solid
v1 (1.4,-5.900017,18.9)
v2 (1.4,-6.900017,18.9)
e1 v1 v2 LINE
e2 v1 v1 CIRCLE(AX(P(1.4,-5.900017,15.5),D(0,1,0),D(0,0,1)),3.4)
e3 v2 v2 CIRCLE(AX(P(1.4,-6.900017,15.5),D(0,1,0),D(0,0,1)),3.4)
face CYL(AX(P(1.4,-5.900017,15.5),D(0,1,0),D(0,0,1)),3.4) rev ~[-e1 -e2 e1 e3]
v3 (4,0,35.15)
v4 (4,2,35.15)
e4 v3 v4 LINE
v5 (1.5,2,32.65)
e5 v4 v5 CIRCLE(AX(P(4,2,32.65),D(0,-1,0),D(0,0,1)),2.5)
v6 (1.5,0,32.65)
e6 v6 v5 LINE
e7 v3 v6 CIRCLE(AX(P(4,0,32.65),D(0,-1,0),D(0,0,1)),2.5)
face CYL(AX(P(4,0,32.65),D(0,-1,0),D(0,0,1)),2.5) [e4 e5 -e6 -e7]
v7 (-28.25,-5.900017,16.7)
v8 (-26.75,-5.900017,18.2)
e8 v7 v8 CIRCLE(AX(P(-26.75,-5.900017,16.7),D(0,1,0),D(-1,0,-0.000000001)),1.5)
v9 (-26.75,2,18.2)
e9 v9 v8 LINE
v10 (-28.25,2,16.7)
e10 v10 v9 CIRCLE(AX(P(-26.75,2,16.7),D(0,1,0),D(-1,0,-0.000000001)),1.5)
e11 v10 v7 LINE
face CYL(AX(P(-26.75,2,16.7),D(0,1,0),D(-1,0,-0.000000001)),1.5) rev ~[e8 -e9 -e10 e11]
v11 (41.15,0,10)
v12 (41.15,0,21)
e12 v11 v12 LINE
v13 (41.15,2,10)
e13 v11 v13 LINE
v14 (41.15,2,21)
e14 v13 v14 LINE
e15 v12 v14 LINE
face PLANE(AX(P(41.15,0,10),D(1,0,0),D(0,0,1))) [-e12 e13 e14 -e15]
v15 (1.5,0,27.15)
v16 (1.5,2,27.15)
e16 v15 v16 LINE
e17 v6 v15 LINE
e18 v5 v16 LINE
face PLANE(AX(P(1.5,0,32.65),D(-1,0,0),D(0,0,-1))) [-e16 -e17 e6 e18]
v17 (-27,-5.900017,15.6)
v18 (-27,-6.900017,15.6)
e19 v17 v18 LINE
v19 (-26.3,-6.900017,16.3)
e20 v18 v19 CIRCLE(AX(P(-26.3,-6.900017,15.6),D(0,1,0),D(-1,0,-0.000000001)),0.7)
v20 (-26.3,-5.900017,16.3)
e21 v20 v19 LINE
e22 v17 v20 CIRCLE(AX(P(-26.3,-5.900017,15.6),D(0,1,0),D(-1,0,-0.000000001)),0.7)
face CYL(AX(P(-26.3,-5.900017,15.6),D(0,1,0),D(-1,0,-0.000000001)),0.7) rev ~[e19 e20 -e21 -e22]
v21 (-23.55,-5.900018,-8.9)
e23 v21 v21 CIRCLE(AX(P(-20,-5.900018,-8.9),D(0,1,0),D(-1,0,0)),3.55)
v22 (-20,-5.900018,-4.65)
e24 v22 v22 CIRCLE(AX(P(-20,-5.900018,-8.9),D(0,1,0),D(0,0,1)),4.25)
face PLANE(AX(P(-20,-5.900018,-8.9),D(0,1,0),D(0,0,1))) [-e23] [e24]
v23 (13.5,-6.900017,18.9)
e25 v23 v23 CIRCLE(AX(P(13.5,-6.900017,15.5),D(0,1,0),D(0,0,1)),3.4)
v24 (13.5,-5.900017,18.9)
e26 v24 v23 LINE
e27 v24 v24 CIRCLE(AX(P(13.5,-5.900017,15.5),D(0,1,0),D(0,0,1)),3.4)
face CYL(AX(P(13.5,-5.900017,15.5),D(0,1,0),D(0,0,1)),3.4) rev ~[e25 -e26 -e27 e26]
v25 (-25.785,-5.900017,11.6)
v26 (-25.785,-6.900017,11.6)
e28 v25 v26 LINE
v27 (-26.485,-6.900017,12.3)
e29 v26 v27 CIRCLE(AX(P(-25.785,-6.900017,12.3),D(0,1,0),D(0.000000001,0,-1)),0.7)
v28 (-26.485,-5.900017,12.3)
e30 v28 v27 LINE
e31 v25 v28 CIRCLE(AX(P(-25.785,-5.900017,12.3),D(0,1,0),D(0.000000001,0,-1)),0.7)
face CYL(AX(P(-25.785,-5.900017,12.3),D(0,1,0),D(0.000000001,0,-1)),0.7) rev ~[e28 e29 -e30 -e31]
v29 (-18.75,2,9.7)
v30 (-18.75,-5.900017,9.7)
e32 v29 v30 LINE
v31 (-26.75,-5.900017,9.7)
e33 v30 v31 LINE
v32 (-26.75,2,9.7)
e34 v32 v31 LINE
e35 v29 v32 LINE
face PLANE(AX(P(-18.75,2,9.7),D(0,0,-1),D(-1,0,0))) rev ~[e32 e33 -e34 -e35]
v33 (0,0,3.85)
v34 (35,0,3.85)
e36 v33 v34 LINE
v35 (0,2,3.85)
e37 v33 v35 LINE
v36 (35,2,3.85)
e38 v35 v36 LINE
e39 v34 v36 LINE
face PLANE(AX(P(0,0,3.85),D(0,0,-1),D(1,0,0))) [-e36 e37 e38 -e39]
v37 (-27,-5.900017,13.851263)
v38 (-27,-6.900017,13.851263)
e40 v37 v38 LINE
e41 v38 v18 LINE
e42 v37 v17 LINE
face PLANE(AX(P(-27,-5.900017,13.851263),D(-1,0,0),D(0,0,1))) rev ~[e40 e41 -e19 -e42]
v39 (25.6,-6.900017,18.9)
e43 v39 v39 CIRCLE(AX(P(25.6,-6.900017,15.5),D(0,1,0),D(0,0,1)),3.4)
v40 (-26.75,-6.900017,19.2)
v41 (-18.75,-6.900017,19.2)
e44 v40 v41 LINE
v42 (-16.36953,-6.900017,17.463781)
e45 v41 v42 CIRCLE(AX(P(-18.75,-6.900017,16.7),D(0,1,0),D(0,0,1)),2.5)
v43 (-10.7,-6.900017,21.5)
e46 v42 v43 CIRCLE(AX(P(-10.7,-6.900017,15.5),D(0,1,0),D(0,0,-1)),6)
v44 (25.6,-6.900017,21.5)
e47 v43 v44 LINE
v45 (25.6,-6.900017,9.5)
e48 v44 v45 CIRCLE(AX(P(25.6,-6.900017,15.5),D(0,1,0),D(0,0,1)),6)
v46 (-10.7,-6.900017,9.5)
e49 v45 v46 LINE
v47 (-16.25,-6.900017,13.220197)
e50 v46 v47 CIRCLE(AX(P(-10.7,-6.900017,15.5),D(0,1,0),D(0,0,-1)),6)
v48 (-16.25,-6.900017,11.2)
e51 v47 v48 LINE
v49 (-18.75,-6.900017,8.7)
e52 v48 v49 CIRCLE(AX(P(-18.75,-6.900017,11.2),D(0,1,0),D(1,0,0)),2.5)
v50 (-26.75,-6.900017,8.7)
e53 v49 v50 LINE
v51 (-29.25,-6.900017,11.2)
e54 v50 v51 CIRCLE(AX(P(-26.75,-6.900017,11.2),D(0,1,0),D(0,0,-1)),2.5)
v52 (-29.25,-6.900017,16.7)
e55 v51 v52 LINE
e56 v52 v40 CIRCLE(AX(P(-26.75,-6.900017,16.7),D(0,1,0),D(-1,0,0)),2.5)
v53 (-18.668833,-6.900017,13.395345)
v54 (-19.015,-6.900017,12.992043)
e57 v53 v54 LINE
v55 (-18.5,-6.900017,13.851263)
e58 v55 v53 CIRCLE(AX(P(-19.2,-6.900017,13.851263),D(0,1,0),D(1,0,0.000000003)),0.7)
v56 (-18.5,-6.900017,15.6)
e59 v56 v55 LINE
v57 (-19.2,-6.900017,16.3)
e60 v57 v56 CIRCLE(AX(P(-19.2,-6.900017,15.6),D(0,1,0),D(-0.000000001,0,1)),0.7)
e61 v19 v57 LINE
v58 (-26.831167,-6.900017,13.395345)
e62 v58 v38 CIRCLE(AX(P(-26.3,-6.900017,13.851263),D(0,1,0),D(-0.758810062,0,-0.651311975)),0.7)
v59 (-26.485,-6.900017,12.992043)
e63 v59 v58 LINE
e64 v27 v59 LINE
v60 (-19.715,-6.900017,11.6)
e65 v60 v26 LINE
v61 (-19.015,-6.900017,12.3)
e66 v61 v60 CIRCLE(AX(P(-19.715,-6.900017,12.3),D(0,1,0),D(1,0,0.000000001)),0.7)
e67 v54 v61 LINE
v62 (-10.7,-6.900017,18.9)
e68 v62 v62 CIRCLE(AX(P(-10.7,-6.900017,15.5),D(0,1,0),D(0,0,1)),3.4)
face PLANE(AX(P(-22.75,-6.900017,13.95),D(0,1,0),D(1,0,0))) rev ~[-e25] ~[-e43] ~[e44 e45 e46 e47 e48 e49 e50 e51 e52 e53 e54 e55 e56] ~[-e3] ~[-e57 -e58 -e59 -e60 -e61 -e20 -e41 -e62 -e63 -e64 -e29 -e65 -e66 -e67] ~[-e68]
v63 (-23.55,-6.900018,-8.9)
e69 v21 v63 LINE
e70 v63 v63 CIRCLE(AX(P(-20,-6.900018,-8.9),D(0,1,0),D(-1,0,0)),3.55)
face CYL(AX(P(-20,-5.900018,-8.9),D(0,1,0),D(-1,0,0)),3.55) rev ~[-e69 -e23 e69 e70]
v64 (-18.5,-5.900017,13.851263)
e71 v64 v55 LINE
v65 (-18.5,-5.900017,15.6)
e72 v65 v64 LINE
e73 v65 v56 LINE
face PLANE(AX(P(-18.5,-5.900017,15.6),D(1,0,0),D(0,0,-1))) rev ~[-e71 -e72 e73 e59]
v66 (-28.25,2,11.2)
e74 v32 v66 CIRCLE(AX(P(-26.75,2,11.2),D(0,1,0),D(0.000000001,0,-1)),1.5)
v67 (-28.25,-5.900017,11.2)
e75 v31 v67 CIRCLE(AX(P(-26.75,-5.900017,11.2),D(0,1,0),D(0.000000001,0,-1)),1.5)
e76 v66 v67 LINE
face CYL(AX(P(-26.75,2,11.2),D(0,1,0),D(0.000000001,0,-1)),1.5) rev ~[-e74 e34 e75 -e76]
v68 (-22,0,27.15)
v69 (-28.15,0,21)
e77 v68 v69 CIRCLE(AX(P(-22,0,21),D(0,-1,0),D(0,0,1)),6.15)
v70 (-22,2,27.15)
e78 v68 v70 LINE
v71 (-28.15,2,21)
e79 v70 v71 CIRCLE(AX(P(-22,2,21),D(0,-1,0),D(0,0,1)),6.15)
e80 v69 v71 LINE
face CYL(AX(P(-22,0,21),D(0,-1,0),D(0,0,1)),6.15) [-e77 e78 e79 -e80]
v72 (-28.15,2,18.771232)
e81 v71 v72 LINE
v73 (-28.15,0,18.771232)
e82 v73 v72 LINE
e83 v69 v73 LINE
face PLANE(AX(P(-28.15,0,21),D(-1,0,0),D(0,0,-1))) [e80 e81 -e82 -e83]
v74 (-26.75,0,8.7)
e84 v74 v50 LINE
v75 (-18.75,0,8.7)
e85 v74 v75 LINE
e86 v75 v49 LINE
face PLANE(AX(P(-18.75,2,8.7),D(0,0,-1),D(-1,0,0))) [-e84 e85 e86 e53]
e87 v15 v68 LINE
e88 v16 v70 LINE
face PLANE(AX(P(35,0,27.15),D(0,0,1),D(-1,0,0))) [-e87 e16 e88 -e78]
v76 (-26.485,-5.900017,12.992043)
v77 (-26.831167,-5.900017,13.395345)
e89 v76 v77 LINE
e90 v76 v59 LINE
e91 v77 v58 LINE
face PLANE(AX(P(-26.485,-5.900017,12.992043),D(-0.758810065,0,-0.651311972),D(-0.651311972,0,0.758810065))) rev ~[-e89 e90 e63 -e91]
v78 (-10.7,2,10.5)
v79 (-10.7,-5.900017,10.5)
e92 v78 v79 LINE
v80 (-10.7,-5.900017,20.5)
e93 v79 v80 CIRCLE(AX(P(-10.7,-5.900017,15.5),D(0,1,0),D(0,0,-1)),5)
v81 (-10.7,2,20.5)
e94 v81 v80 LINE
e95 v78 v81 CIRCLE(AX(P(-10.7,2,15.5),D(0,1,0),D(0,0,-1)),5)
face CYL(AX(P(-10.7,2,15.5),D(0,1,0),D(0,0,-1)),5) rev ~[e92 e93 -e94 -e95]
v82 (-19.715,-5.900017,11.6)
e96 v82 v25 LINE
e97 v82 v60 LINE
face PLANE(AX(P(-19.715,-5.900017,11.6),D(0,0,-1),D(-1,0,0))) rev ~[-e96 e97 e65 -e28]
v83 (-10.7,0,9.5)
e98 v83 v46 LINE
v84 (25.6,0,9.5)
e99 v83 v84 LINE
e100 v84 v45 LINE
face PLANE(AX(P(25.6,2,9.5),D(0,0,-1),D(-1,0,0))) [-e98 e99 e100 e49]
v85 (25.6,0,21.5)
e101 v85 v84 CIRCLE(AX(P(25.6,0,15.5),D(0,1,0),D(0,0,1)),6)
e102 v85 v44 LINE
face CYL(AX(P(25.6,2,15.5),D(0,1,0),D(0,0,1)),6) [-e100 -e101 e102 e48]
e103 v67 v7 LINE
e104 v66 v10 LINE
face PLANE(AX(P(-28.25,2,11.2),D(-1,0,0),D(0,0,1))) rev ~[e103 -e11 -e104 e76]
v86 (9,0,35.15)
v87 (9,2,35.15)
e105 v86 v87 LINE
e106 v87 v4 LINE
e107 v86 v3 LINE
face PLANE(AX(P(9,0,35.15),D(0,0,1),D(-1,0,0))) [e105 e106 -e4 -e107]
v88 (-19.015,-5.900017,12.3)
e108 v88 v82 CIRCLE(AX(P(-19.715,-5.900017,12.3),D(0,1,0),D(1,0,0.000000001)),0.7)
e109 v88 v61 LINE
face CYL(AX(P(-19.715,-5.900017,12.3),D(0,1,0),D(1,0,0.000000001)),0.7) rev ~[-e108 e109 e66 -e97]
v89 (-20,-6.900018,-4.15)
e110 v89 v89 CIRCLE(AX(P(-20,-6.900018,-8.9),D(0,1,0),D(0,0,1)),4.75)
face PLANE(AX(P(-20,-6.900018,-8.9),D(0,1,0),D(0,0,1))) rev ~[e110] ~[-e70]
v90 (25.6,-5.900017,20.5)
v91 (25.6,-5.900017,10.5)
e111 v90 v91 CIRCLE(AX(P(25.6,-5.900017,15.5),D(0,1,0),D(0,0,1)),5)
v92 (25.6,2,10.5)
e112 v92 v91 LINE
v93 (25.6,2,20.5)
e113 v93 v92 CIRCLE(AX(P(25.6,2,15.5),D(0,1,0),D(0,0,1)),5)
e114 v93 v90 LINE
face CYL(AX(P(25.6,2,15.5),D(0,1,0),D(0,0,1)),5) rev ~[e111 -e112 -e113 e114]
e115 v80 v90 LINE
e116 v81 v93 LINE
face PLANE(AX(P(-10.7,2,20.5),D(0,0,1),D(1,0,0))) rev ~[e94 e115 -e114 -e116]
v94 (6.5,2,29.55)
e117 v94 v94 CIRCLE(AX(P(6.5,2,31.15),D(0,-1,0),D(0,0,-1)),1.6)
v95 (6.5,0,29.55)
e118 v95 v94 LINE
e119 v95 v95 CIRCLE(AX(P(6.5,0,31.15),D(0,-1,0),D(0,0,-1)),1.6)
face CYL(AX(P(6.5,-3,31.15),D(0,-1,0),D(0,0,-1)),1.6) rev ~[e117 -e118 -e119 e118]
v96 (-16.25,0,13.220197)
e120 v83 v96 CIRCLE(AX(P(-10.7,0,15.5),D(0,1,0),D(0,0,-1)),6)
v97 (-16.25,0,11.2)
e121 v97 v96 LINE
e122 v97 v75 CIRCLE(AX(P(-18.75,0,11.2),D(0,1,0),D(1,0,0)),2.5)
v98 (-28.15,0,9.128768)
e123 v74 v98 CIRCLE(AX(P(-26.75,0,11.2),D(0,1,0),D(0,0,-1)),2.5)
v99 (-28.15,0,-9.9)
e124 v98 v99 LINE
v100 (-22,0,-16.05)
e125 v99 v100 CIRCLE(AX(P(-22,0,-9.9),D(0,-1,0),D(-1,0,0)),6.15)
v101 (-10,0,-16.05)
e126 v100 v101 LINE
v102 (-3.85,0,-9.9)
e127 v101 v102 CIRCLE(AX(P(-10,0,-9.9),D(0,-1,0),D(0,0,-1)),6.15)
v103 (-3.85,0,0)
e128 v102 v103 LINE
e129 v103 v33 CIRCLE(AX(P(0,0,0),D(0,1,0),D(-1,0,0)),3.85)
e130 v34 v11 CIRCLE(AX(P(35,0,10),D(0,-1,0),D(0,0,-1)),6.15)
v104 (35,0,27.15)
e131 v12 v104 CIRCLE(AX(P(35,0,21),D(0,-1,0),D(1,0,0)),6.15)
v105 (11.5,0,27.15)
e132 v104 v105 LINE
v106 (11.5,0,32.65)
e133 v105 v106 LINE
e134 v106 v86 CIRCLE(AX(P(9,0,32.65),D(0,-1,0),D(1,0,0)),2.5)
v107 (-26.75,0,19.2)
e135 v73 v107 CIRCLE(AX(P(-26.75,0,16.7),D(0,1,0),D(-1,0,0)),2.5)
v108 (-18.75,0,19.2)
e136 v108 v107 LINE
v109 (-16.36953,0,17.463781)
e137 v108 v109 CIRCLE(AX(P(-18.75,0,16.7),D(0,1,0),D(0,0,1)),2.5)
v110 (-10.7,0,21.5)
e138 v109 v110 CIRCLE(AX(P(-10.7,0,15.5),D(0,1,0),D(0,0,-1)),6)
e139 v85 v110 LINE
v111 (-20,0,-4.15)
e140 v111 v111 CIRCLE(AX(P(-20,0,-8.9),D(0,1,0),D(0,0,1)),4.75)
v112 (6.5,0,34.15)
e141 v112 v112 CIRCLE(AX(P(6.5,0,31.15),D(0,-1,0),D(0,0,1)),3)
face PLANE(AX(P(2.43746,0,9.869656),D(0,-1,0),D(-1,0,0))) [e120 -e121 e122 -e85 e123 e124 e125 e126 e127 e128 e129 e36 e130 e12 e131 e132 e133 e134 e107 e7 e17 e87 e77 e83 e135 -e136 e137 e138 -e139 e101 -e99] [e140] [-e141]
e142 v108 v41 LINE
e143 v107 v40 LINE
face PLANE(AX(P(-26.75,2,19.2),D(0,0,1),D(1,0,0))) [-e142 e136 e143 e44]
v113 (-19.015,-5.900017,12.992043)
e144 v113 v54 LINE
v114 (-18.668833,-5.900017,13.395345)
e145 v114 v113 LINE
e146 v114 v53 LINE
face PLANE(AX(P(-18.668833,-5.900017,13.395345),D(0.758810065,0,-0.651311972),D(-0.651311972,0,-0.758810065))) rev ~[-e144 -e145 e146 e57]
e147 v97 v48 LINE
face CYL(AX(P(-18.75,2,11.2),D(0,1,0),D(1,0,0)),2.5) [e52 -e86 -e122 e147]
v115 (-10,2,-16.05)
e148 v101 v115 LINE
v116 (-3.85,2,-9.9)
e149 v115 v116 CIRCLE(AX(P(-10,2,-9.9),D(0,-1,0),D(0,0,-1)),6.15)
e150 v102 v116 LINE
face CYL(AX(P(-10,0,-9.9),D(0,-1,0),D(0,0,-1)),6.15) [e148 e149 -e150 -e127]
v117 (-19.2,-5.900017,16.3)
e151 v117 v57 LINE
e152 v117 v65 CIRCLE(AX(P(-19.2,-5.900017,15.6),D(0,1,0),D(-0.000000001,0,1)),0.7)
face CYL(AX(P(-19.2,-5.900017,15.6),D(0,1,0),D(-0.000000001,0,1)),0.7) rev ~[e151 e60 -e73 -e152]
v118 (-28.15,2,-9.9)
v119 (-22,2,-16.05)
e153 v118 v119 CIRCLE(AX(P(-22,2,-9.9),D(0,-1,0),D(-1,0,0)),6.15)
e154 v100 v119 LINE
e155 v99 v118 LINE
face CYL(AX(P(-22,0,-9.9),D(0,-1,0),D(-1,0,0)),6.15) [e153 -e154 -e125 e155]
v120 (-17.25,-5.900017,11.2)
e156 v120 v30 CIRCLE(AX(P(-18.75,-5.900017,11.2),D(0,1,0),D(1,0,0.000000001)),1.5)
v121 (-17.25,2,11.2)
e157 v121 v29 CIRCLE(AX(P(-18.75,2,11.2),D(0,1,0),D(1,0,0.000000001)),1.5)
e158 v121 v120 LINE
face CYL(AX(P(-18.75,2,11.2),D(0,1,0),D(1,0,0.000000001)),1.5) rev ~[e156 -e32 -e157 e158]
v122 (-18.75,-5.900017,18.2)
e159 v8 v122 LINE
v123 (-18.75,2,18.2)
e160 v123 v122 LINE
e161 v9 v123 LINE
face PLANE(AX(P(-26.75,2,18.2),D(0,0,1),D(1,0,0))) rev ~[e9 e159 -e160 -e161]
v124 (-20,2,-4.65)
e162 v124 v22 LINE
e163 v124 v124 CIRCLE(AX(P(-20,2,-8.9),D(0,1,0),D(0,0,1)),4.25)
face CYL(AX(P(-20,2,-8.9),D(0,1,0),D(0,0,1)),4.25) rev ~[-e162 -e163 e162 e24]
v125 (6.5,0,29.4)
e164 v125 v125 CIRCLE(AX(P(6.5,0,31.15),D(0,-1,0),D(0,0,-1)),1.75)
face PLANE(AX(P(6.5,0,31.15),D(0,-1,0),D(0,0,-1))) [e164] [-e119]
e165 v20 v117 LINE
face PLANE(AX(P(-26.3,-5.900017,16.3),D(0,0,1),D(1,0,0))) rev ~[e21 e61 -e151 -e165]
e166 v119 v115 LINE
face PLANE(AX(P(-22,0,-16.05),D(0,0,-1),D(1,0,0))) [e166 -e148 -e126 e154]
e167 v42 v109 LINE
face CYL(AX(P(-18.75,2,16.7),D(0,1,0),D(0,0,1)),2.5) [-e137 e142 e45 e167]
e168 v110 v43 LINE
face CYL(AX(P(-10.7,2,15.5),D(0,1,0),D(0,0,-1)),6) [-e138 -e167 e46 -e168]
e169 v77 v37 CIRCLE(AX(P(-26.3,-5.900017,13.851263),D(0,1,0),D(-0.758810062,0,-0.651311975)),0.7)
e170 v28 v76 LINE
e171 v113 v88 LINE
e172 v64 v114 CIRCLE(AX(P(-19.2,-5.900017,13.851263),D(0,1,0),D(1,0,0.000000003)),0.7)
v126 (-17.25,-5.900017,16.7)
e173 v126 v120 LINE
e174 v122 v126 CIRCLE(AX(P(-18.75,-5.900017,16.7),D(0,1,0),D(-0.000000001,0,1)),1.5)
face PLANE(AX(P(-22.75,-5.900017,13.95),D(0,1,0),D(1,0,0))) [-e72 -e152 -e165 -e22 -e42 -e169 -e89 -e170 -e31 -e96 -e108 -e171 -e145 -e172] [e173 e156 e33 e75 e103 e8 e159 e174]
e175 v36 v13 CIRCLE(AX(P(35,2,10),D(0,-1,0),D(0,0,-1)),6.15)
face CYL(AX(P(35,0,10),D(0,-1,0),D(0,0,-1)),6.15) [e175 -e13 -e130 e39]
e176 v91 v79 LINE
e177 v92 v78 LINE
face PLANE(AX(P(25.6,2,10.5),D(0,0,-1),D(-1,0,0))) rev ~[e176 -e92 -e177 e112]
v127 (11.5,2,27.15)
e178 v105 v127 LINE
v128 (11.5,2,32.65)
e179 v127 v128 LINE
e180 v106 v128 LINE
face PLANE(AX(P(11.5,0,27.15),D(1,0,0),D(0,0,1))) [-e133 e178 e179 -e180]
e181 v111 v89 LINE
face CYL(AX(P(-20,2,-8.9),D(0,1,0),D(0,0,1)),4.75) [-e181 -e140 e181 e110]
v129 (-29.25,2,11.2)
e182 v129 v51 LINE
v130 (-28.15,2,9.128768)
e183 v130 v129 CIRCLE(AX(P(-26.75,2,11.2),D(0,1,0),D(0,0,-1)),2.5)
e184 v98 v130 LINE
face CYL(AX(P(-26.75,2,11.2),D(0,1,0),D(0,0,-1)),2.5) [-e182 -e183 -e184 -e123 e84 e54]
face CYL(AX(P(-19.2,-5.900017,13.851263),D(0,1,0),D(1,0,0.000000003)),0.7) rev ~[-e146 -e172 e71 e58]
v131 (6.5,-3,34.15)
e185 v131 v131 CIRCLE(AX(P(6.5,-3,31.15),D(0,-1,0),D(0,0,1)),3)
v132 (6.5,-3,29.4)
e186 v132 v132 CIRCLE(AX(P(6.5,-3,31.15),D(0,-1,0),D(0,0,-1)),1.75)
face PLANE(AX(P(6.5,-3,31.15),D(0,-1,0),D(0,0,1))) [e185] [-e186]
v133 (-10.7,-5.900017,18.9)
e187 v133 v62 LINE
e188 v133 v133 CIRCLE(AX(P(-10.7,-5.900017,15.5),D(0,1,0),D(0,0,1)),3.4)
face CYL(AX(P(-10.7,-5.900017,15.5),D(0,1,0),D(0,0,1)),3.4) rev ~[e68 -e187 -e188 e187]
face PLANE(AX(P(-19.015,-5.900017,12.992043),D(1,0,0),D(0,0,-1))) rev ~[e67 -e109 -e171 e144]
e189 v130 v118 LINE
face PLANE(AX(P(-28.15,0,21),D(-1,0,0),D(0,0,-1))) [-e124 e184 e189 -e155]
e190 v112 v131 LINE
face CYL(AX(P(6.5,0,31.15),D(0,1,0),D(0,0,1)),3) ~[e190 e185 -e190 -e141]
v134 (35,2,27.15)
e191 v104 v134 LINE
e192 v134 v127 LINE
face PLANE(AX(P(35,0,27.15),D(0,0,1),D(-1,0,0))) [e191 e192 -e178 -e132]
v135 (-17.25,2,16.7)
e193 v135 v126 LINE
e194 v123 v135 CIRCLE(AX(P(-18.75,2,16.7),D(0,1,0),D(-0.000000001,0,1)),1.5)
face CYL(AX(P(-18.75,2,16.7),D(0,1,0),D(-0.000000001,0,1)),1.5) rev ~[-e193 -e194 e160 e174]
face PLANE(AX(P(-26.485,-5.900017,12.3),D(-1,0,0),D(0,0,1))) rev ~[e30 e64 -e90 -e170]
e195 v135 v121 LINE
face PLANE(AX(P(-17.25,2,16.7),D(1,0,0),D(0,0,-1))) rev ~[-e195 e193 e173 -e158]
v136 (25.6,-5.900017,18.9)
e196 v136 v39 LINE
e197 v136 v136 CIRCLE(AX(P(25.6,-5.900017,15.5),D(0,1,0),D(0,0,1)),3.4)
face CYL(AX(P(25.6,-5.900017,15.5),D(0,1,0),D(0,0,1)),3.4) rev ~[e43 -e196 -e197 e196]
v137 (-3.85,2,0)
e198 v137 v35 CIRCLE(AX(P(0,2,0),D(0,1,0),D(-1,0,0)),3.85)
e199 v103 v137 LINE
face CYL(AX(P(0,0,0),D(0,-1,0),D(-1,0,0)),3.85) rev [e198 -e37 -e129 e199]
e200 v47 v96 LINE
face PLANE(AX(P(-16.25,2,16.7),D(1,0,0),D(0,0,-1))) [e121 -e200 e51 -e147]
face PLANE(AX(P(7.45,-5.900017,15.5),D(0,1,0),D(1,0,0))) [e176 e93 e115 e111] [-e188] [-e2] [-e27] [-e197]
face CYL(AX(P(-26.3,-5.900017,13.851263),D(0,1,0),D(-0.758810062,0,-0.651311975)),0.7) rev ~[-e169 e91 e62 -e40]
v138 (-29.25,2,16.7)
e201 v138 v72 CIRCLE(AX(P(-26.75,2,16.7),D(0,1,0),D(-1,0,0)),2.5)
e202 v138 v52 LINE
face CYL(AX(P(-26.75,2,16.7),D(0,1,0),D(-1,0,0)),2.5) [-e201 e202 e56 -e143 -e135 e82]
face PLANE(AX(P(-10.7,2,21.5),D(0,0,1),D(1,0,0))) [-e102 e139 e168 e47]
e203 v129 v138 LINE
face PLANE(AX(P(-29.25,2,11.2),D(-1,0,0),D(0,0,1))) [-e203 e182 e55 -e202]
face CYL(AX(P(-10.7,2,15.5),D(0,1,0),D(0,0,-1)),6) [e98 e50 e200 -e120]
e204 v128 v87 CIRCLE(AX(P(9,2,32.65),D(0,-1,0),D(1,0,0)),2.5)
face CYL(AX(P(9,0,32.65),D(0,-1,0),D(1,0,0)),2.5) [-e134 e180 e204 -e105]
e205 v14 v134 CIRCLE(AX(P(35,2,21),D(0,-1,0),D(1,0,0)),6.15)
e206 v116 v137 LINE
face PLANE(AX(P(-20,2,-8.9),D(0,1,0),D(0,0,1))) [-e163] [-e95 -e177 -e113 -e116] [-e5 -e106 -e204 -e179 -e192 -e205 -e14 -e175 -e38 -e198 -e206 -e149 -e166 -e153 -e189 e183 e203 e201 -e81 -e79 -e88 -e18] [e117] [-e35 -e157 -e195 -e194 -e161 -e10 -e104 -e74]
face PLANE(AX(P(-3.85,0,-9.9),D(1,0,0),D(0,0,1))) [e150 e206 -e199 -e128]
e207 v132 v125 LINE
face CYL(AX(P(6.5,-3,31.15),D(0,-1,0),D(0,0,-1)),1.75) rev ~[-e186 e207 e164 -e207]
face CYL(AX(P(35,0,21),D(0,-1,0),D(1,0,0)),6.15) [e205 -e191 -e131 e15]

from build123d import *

# Parameters (mm, degrees)
EXTRUDE_1_DEPTH     = 2
EXTRUDE_2_DEPTH     = 8.900017028
EXTRUDE_3_DEPTH     = 8.900017028
CUT_EXTRUDE_1_DEPTH = 7.900017028
CUT_EXTRUDE_2_DEPTH = 7.900017028
SKETCH_7_R          = 4.75
EXTRUDE_4_DEPTH     = 8.9000184
SKETCH_8_R          = 4.25
CUT_EXTRUDE_3_DEPTH = 7.9000184
SKETCH_9_R          = 3.4
CUT_EXTRUDE_4_DEPTH = 50.92850157
SKETCH_10_R         = 3.55
CUT_EXTRUDE_5_DEPTH = 50.928501787
CUT_EXTRUDE_6_DEPTH = 50.92850157
EXTRUDE_5_DEPTH     = 2
SKETCH_13_R         = 3
EXTRUDE_6_DEPTH     = 3
SKETCH_14_R         = 1.6
CUT_EXTRUDE_7_DEPTH = 55.349287024
SKETCH_15_R         = 1.75
CUT_EXTRUDE_8_DEPTH = 3


with BuildPart() as part:
    # Эскиз1 → Бобышка-Вытянуть1 (new body)
    with BuildSketch(Plane(origin=(0, 0, 0), x_dir=(1, 0, 0), z_dir=(0, 1, 0))):
        with BuildLine():
            Line((35, -27.15), (-22, -27.15))
            ThreePointArc((-22, -27.15), (-26.348706704, -25.348706704), (-28.15, -21))
            Line((-28.15, -21), (-28.15, 9.9))
            ThreePointArc((-28.15, 9.9), (-26.348706704, 14.248706704), (-22, 16.05))
            Line((-22, 16.05), (-10, 16.05))
            ThreePointArc((-10, 16.05), (-5.651293296, 14.248706704), (-3.85, 9.9))
            Line((-3.85, 9.9), (-3.85, 0))
            ThreePointArc((-3.85, 0), (-2.722361108, -2.722361108), (0, -3.85))
            Line((0, -3.85), (35, -3.85))
            ThreePointArc((35, -3.85), (39.348706704, -5.651293296), (41.15, -10))
            Line((41.15, -10), (41.15, -21))
            ThreePointArc((41.15, -21), (39.348706704, -25.348706704), (35, -27.15))
        make_face()
    extrude(amount=EXTRUDE_1_DEPTH)

    # Эскиз2 → Бобышка-Вытянуть2 (add)
    with BuildSketch(Plane(origin=(0, 2, 0), x_dir=(1, 0, 0), z_dir=(0, 1, 0))):
        with BuildLine():
            Line((-10.7, -21.5), (25.6, -21.5))
            ThreePointArc((25.6, -21.5), (31.6, -15.5), (25.6, -9.5))
            Line((25.6, -9.5), (-10.7, -9.5))
            ThreePointArc((-10.7, -9.5), (-16.7, -15.5), (-10.7, -21.5))
        make_face()
    extrude(amount=-EXTRUDE_2_DEPTH)

    # Эскиз3 → Бобышка-Вытянуть3 (add)
    with BuildSketch(Plane(origin=(0, 2, 0), x_dir=(1, 0, 0), z_dir=(0, 1, 0))):
        with BuildLine():
            Line((-26.75, -19.2), (-18.75, -19.2))
            ThreePointArc((-18.75, -19.2), (-16.982233047, -18.467766953), (-16.25, -16.7))
            Line((-16.25, -16.7), (-16.25, -11.2))
            ThreePointArc((-16.25, -11.2), (-16.982233047, -9.432233047), (-18.75, -8.7))
            Line((-18.75, -8.7), (-26.75, -8.7))
            ThreePointArc((-26.75, -8.7), (-28.517766953, -9.432233047), (-29.25, -11.2))
            Line((-29.25, -11.2), (-29.25, -16.7))
            ThreePointArc((-29.25, -16.7), (-28.517766953, -18.467766953), (-26.75, -19.2))
        make_face()
    extrude(amount=-EXTRUDE_3_DEPTH)

    # Эскиз5 → Вырез-Вытянуть1 (cut)
    with BuildSketch(Plane(origin=(0, 2, 0), x_dir=(1, 0, 0), z_dir=(0, 1, 0))):
        with BuildLine():
            Line((25.6, -10.5), (-10.7, -10.5))
            ThreePointArc((-10.7, -10.5), (-15.7, -15.5), (-10.7, -20.5))
            Line((-10.7, -20.5), (25.6, -20.5))
            ThreePointArc((25.6, -20.5), (30.6, -15.5), (25.6, -10.5))
        make_face()
    extrude(amount=-CUT_EXTRUDE_1_DEPTH, mode=Mode.SUBTRACT)

    # Эскиз6 → Вырез-Вытянуть2 (cut)
    with BuildSketch(Plane(origin=(0, 2, 0), x_dir=(1, 0, 0), z_dir=(0, 1, 0))):
        with BuildLine():
            Line((-17.25, -16.7), (-17.25, -11.2))
            ThreePointArc((-17.25, -11.2), (-17.689339828, -10.139339828), (-18.75, -9.7))
            Line((-18.75, -9.7), (-26.75, -9.7))
            ThreePointArc((-26.75, -9.7), (-27.810660172, -10.139339828), (-28.25, -11.2))
            Line((-28.25, -11.2), (-28.25, -16.7))
            ThreePointArc((-28.25, -16.7), (-27.810660172, -17.760660172), (-26.75, -18.2))
            Line((-26.75, -18.2), (-18.75, -18.2))
            ThreePointArc((-18.75, -18.2), (-17.689339828, -17.760660172), (-17.25, -16.7))
        make_face()
    extrude(amount=-CUT_EXTRUDE_2_DEPTH, mode=Mode.SUBTRACT)

    # Эскиз7 → Бобышка-Вытянуть4 (add)
    with BuildSketch(Plane(origin=(0, 2, 0), x_dir=(1, 0, 0), z_dir=(0, 1, 0))):
        with Locations(Location((-20, 8.9, 0), (0, 0, 270))):
            Circle(SKETCH_7_R)
    extrude(amount=-EXTRUDE_4_DEPTH)

    # Эскиз8 → Вырез-Вытянуть3 (cut)
    with BuildSketch(Plane(origin=(0, 2, 0), x_dir=(1, 0, 0), z_dir=(0, 1, 0))):
        with Locations(Location((-20, 8.9, 0), (0, 0, 270))):
            Circle(SKETCH_8_R)
    extrude(amount=-CUT_EXTRUDE_3_DEPTH, mode=Mode.SUBTRACT)

    # Эскиз9 → Вырез-Вытянуть4 (cut, through all)
    with BuildSketch(Plane(origin=(0, -5.900017028, 0), x_dir=(1, 0, 0), z_dir=(0, 1, 0))):
        with Locations(Location((-10.7, -15.5, 0), (0, 0, 270))):
            Circle(SKETCH_9_R)
        with Locations(Location((1.4, -15.5, 0), (0, 0, 270))):
            Circle(SKETCH_9_R)
        with Locations(Location((13.5, -15.5, 0), (0, 0, 270))):
            Circle(SKETCH_9_R)
        with Locations(Location((25.6, -15.5, 0), (0, 0, 270))):
            Circle(SKETCH_9_R)
    extrude(amount=-CUT_EXTRUDE_4_DEPTH, mode=Mode.SUBTRACT)

    # Эскиз10 → Вырез-Вытянуть5 (cut, through all)
    with BuildSketch(Plane(origin=(0, -5.9000184, 0), x_dir=(1, 0, 0), z_dir=(0, 1, 0))):
        with Locations(Location((-20, 8.9, 0), (0, 0, 180))):
            Circle(SKETCH_10_R)
    extrude(amount=-CUT_EXTRUDE_5_DEPTH, mode=Mode.SUBTRACT)

    # Эскиз11 → Вырез-Вытянуть6 (cut, through all)
    with BuildSketch(Plane(origin=(0, -5.900017028, 0), x_dir=(1, 0, 0), z_dir=(0, 1, 0))):
        with BuildLine():
            Line((-27, -13.851263122), (-27, -15.6))
            ThreePointArc((-27, -15.6), (-26.794974747, -16.094974747), (-26.3, -16.3))
            Line((-26.3, -16.3), (-19.2, -16.3))
            ThreePointArc((-19.2, -16.3), (-18.705025253, -16.094974747), (-18.5, -15.6))
            Line((-18.5, -15.6), (-18.5, -13.851263122))
            ThreePointArc((-18.5, -13.851263122), (-18.543563814, -13.608175619), (-18.668832955, -13.395344741))
            Line((-18.668832955, -13.395344741), (-19.015, -12.992043329))
            Line((-19.015, -12.992043329), (-19.015, -12.3))
            ThreePointArc((-19.015, -12.3), (-19.220025253, -11.805025253), (-19.715, -11.6))
            Line((-19.715, -11.6), (-25.785, -11.6))
            ThreePointArc((-25.785, -11.6), (-26.279974747, -11.805025253), (-26.485, -12.3))
            Line((-26.485, -12.3), (-26.485, -12.992043329))
            Line((-26.485, -12.992043329), (-26.831167045, -13.395344741))
            ThreePointArc((-26.831167045, -13.395344741), (-26.956436186, -13.608175619), (-27, -13.851263122))
        make_face()
    extrude(amount=-CUT_EXTRUDE_6_DEPTH, mode=Mode.SUBTRACT)

    # Эскиз12 → Бобышка-Вытянуть5 (add)
    with BuildSketch(Plane.XZ):
        with BuildLine():
            Line((1.5, 27.15), (11.5, 27.15))
            Line((11.5, 27.15), (11.5, 32.65))
            ThreePointArc((11.5, 32.65), (10.767766953, 34.417766953), (9, 35.15))
            Line((9, 35.15), (4, 35.15))
            ThreePointArc((4, 35.15), (2.232233047, 34.417766953), (1.5, 32.65))
            Line((1.5, 32.65), (1.5, 27.15))
        make_face()
    extrude(amount=-EXTRUDE_5_DEPTH)

    # Эскиз13 → Бобышка-Вытянуть6 (add)
    with BuildSketch(Plane.XZ):
        with Locations(Location((6.5, 31.15, 0), (0, 0, 90))):
            Circle(SKETCH_13_R)
    extrude(amount=EXTRUDE_6_DEPTH)

    # Эскиз14 → Вырез-Вытянуть7 (cut, through all)
    with BuildSketch(Plane.XZ.offset(3)):
        with Locations(Location((6.5, 31.15, 0), (0, 0, 270))):
            Circle(SKETCH_14_R)
    extrude(amount=-CUT_EXTRUDE_7_DEPTH, mode=Mode.SUBTRACT)

    # Эскиз15 → Вырез-Вытянуть8 (cut)
    with BuildSketch(Plane.XZ.offset(3)):
        with Locations(Location((6.5, 31.15, 0), (0, 0, 270))):
            Circle(SKETCH_15_R)
    extrude(amount=-CUT_EXTRUDE_8_DEPTH, mode=Mode.SUBTRACT)


solid = part.part
